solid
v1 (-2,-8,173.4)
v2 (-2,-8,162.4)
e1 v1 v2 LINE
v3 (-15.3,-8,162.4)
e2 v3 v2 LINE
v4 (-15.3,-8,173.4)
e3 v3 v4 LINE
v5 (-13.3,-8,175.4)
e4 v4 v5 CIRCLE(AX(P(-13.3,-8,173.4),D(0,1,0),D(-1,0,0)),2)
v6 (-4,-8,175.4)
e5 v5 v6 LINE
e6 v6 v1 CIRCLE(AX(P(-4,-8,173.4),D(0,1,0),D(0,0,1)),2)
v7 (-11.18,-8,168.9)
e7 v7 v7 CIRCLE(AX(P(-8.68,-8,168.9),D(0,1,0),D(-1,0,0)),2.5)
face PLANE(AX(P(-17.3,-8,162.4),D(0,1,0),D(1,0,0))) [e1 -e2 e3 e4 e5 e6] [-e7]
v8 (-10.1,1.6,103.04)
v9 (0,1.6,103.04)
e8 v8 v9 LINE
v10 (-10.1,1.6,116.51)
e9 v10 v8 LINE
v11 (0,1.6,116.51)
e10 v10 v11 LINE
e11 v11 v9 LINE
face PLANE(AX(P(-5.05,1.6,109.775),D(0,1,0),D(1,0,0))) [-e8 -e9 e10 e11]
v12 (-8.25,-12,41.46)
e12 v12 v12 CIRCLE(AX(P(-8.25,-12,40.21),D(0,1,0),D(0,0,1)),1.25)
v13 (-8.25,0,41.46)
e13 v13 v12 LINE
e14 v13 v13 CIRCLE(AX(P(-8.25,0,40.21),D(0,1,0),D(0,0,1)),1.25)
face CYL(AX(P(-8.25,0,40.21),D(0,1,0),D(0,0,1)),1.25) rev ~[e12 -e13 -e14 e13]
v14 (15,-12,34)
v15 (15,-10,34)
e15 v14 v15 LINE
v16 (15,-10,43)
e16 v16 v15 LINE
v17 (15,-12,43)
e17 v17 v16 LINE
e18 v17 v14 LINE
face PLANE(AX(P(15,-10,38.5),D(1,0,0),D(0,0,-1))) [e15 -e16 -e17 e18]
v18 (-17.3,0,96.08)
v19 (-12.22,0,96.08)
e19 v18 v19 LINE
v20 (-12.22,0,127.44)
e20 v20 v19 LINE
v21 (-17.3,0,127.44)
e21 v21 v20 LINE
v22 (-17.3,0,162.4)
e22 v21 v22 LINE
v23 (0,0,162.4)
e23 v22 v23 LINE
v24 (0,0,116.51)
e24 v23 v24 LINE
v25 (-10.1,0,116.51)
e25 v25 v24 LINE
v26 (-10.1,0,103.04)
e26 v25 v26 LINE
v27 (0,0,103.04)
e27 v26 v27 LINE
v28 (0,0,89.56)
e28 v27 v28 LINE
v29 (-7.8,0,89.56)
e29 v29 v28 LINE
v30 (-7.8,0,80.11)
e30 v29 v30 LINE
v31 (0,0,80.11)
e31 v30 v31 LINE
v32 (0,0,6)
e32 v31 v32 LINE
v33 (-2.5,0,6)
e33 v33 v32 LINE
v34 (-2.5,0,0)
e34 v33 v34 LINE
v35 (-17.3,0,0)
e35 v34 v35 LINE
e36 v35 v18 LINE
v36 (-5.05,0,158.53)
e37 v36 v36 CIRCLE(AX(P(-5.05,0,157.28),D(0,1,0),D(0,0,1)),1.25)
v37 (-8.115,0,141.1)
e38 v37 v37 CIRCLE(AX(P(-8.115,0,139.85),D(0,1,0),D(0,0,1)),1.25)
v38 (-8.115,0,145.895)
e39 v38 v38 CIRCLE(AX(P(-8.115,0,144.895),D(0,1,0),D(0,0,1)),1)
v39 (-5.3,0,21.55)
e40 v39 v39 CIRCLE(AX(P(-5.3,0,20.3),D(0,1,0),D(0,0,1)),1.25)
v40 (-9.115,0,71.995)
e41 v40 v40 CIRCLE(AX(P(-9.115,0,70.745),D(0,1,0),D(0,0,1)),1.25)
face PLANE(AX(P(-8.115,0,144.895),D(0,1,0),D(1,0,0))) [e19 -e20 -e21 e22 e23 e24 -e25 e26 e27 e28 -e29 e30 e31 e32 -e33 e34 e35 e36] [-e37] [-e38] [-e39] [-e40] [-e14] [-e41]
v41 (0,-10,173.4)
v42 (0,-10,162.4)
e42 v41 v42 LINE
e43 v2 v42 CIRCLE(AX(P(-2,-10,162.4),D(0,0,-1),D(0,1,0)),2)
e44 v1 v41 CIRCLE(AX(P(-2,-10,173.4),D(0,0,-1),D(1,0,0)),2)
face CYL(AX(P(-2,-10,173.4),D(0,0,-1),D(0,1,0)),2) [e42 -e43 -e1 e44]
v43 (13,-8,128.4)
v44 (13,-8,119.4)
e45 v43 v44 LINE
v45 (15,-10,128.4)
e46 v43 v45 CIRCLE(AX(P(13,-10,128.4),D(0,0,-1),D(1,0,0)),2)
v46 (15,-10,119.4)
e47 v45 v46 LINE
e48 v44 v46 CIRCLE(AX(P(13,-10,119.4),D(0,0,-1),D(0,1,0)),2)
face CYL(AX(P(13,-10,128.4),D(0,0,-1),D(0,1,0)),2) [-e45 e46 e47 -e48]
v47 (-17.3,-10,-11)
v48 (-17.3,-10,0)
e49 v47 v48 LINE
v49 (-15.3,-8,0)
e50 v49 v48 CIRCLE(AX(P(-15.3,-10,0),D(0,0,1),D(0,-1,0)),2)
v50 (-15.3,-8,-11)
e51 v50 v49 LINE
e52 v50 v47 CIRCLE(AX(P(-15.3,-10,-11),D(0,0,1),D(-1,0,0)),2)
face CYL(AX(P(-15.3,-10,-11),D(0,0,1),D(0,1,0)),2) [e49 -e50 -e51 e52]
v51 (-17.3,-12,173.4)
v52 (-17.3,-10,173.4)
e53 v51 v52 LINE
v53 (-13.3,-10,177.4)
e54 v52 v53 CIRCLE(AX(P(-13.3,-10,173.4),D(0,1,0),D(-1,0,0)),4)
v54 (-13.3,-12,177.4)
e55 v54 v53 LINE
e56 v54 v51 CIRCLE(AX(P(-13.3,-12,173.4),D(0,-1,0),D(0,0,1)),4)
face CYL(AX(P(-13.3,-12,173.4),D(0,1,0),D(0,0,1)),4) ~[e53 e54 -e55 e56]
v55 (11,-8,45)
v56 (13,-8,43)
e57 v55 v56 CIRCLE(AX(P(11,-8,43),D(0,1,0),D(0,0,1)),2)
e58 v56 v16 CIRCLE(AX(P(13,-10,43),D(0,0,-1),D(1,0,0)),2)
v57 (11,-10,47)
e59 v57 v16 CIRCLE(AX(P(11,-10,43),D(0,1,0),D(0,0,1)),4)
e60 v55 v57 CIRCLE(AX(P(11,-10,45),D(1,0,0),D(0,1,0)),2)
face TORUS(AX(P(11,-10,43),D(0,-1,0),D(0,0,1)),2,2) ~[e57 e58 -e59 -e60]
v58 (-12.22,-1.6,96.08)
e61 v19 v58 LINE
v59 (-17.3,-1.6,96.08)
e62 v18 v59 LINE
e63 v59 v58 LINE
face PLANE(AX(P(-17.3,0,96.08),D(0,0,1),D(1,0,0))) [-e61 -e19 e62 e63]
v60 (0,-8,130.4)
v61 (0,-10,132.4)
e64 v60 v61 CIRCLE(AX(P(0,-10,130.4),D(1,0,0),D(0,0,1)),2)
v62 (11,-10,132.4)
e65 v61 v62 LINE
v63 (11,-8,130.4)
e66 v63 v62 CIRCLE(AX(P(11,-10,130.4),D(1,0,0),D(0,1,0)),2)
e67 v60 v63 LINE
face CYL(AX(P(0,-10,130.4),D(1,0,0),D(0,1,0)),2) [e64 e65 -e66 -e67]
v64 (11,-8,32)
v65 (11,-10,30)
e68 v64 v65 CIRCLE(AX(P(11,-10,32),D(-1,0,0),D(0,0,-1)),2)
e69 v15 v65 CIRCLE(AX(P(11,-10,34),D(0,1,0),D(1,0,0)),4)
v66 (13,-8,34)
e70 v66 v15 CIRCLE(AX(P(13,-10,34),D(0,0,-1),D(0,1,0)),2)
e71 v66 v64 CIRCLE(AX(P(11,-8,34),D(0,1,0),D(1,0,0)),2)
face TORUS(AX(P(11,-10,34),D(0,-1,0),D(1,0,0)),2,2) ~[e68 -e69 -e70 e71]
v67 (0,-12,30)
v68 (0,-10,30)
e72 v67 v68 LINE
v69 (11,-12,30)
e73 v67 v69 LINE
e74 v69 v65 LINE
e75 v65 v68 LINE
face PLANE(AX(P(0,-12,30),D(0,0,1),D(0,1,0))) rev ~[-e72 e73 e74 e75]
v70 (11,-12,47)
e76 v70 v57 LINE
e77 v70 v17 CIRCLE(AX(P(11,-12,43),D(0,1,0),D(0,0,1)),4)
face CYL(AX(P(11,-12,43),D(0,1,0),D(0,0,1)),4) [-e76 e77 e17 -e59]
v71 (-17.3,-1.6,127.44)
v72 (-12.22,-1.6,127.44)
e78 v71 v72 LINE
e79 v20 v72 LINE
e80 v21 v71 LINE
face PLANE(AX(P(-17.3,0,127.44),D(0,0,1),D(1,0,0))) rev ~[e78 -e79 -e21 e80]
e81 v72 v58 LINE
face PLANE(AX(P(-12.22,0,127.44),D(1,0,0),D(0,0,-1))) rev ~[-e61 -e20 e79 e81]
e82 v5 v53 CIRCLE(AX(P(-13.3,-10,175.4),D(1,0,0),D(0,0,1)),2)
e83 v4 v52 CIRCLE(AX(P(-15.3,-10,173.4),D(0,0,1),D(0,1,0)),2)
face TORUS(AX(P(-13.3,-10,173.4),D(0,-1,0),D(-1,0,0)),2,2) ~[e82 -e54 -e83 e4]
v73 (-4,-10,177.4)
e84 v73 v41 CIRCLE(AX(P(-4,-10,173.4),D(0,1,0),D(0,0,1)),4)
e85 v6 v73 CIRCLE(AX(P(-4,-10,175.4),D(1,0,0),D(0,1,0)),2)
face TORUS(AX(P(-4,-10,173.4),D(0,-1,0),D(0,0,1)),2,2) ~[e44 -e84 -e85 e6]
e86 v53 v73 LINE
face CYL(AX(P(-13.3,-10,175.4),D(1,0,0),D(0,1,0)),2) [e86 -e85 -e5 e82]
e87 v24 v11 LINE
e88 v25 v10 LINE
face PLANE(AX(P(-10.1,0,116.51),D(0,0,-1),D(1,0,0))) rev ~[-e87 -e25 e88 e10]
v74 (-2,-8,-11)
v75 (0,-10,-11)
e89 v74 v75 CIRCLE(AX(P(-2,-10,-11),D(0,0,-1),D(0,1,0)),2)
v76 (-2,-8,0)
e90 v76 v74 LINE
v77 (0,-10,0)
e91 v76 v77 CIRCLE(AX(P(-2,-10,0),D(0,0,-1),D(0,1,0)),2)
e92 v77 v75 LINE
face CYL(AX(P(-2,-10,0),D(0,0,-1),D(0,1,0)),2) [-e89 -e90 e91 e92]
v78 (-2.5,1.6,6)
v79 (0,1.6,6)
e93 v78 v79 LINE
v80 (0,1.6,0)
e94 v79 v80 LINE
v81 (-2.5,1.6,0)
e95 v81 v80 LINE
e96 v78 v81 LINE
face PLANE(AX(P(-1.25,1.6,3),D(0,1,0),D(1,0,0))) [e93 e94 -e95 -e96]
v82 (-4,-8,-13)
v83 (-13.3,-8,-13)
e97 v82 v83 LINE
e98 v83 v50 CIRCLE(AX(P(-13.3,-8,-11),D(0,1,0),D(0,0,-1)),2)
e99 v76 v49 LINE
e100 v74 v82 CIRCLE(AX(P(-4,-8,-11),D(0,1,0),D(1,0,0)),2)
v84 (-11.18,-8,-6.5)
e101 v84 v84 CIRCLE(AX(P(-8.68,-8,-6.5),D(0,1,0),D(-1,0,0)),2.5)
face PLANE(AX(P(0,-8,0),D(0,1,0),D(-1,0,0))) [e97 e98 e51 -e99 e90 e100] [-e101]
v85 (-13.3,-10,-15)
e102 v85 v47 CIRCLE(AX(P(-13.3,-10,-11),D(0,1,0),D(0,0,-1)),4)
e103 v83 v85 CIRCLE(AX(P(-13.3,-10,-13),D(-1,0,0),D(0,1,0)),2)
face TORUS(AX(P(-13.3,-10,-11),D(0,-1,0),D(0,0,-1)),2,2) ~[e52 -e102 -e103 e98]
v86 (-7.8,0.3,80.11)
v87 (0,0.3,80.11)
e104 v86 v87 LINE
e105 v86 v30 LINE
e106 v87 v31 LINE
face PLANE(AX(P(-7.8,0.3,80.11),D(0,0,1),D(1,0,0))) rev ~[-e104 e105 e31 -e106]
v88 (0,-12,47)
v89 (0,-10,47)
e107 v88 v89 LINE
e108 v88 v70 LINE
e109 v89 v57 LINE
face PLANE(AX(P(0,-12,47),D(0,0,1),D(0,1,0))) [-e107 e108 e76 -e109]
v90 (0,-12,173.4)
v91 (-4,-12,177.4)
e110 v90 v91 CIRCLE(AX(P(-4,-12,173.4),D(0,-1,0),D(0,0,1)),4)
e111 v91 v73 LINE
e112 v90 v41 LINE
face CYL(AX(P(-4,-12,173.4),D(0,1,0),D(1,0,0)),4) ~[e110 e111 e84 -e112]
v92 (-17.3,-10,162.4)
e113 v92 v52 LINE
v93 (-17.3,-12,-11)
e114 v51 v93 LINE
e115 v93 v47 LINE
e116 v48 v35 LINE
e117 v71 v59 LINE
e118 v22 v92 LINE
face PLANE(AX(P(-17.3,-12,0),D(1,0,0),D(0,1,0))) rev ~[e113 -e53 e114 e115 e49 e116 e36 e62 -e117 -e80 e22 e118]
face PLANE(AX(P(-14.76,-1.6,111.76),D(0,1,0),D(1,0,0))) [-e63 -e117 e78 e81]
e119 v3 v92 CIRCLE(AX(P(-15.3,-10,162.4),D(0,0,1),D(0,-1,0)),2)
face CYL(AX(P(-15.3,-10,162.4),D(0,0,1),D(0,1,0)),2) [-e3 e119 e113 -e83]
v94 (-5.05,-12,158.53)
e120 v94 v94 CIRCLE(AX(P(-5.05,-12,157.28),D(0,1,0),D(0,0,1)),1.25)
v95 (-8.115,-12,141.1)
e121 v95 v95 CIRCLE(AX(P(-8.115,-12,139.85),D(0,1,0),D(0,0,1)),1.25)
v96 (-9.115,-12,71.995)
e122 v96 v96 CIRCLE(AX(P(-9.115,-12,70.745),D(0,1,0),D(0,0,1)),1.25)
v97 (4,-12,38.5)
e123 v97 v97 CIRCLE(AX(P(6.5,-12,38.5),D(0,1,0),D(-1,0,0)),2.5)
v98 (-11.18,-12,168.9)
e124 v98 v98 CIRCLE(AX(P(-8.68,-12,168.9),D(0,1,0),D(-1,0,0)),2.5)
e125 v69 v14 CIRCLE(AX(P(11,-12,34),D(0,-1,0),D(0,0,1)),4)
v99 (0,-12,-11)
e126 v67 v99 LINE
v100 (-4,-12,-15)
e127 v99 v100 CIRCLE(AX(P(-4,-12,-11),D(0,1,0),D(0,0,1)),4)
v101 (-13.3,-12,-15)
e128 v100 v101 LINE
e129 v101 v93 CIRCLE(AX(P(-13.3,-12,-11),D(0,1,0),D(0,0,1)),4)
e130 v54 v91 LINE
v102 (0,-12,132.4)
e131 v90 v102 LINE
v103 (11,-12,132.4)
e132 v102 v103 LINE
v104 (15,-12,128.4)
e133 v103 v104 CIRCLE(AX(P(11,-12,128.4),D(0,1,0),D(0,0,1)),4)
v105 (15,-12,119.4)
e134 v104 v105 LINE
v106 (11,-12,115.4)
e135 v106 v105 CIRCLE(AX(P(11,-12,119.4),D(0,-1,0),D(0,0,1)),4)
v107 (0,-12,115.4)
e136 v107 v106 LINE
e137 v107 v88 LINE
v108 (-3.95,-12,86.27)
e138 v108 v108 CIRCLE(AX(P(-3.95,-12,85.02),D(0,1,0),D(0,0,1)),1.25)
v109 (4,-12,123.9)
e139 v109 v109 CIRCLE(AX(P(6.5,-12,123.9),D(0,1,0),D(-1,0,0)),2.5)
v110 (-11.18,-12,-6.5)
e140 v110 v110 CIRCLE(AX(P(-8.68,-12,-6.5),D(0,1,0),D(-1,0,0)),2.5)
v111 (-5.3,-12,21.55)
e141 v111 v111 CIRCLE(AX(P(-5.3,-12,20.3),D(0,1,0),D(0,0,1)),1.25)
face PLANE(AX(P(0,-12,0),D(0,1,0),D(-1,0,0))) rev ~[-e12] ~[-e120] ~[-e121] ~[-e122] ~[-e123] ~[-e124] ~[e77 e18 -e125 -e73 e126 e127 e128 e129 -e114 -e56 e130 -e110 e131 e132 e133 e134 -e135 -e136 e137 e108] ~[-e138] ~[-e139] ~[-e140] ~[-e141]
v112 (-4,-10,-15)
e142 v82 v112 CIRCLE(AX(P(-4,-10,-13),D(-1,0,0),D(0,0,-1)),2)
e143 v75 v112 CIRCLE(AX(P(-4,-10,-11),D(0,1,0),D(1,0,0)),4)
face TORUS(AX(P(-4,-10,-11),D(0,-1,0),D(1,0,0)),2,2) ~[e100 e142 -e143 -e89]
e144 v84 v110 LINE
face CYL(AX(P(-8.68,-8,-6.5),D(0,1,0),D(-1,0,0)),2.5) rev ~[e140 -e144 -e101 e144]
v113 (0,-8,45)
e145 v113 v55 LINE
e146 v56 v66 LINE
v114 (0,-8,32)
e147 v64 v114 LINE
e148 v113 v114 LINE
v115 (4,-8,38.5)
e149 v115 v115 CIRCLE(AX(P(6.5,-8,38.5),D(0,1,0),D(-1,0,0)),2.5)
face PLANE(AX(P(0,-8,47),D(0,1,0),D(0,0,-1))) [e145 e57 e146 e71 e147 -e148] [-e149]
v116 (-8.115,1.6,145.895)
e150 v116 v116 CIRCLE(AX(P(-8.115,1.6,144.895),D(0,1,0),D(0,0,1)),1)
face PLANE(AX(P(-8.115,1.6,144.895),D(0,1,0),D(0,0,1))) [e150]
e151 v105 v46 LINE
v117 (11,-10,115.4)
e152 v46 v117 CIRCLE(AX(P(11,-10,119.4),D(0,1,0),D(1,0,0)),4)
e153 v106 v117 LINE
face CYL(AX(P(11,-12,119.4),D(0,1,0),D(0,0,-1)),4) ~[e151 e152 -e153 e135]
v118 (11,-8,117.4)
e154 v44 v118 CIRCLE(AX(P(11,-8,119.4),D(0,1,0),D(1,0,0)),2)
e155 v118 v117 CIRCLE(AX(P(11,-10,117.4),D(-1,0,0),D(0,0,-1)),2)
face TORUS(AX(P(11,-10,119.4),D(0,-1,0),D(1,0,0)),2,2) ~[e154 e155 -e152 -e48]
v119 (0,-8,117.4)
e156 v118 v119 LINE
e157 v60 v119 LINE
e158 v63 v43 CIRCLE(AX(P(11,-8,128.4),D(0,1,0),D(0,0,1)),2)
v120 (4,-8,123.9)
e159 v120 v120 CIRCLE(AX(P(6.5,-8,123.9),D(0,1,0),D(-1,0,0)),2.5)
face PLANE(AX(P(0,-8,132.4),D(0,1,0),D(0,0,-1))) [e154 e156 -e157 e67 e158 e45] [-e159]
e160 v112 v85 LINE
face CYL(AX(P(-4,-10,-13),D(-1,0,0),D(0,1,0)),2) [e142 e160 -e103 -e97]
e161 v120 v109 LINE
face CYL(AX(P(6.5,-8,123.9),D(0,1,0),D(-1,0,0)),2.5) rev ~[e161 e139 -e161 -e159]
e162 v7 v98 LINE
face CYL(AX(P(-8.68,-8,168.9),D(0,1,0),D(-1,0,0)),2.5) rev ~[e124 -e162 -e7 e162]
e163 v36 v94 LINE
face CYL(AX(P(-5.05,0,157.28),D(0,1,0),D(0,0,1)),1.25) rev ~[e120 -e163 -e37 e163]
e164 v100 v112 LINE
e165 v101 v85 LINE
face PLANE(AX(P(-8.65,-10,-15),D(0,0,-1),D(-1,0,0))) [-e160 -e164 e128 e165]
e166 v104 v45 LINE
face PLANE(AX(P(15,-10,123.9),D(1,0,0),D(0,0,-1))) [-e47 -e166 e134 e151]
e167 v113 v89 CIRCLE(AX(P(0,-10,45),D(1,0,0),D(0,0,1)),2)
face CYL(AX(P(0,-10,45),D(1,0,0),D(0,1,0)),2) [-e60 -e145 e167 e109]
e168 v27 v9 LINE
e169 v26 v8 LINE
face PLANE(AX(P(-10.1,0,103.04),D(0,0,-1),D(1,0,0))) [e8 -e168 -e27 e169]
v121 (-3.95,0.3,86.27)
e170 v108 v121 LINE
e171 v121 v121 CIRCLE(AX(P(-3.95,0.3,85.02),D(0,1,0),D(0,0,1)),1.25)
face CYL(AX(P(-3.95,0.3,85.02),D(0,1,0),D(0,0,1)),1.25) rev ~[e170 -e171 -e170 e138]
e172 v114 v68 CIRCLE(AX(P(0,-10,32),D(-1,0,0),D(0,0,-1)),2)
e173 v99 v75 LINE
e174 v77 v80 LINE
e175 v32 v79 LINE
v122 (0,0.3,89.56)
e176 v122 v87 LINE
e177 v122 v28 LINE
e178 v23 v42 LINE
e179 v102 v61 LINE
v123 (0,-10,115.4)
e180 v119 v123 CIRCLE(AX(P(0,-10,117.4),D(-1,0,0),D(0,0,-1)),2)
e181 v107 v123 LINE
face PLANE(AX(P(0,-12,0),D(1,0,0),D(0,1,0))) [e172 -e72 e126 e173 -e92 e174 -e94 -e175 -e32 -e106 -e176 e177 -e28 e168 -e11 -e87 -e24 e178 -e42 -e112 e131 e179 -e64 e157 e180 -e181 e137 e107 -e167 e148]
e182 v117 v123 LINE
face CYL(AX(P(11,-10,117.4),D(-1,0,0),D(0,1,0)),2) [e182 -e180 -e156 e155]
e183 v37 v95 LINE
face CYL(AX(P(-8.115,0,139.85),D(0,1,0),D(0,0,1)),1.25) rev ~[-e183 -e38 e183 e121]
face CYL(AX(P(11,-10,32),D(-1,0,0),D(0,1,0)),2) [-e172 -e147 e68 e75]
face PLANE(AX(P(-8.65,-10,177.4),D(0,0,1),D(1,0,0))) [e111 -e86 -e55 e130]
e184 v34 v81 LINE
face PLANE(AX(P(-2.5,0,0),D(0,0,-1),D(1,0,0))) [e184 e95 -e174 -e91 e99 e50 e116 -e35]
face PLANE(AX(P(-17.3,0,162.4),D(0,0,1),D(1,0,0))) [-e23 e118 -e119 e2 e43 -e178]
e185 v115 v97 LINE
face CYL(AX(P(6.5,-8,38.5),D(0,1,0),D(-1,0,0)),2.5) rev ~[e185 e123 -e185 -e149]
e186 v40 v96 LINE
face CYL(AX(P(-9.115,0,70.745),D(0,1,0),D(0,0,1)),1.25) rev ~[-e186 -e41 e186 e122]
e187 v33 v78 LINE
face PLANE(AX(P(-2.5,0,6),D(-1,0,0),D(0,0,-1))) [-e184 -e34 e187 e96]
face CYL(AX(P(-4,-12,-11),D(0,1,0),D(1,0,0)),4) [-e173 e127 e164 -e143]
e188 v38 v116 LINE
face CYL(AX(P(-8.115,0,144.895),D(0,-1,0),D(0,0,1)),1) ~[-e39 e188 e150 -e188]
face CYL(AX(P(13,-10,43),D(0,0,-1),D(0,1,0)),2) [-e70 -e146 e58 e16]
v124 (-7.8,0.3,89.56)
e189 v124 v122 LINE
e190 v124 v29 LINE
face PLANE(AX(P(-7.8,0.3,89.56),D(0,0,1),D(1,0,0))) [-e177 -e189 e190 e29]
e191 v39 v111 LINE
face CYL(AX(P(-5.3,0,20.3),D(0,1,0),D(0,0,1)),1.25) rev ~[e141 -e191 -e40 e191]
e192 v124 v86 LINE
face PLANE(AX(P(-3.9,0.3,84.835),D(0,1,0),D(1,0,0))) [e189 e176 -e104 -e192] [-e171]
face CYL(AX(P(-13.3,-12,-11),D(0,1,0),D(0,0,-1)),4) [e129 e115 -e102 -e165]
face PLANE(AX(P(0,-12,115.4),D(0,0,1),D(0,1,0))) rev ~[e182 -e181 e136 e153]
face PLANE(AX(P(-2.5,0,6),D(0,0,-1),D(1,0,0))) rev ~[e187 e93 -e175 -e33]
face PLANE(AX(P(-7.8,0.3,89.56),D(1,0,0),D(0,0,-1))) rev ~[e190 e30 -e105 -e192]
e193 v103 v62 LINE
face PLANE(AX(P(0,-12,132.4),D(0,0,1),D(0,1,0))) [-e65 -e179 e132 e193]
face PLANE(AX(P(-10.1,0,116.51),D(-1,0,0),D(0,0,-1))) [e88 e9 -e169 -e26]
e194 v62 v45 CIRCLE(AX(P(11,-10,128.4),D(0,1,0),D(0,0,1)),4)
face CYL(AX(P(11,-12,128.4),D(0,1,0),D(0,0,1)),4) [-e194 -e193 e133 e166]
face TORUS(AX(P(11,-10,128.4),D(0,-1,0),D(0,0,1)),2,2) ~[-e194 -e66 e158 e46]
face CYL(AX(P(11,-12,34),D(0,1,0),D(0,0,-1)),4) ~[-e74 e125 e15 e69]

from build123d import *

# Parameters (mm, degrees)
SKETCH1_R           = 1
SKETCH1_R_2         = 1.25
SKETCH1_W           = 10.1
SKETCH1_H           = 13.47
SKETCH1_W_2         = 2.5
SKETCH1_H_2         = 6
SKETCH1_W_3         = 5.08
SKETCH1_H_3         = 31.36
BOSS_EXTRUDE1_DEPTH = 12
SKETCH1_3_W         = 10.1
SKETCH1_3_H         = 13.47
SKETCH1_3_W_2       = 2.5
SKETCH1_3_H_2       = 6
SKETCH1_3_R         = 1
BOSS_EXTRUDE2_DEPTH = 1.6
SKETCH1_4_W         = 5.08
SKETCH1_4_H         = 31.36
CUT_EXTRUDE1_DEPTH  = 1.6
BOSS_EXTRUDE3_START = 0.3
SKETCH2_W           = 7.8
SKETCH2_H           = 9.45
SKETCH2_R           = 1.25
BOSS_EXTRUDE3_DEPTH = 0.3
SKETCH3_W           = 17.3
SKETCH3_H           = 4
BOSS_EXTRUDE4_DEPTH = 15
SKETCH4_W           = 17.3
SKETCH4_H           = 4
BOSS_EXTRUDE5_DEPTH = 15
SKETCH5_W           = 17
SKETCH5_H           = 4
BOSS_EXTRUDE6_DEPTH = 15
FILLET1_R           = 4
FILLET2_R           = 2
CUT_EXTRUDE2_REACH  = 180.5
SKETCH6_R           = 2.5


with BuildPart() as part:
    # Sketch1 → Boss-Extrude1 (new body)
    # profile 1 of 5: a face of its own
    with BuildSketch(Plane(origin=(0, 0, 0), x_dir=(1, 0, 0), z_dir=(0, 1, 0))):
        Polygon((-2.5, -6), (-2.5, 0), (-17.3, 0), (-17.3, -96.08), (-12.22, -96.08), (-12.22, -127.44), (-17.3, -127.44), (-17.3, -162.4), (0, -162.4), (0, -116.51), (-10.1, -116.51), (-10.1, -103.04), (0, -103.04), (0, -6), align=None)
        with Locations((-8.115, -144.895)):
            Circle(SKETCH1_R, mode=Mode.SUBTRACT)
        with Locations(Location((-5.05, -157.28, 0), (0, 0, 270))):
            Circle(SKETCH1_R_2, mode=Mode.SUBTRACT)
        with Locations(Location((-8.115, -139.85, 0), (0, 0, 270))):
            Circle(SKETCH1_R_2, mode=Mode.SUBTRACT)
        with Locations(Location((-3.95, -85.02, 0), (0, 0, 270))):
            Circle(SKETCH1_R_2, mode=Mode.SUBTRACT)
        with Locations(Location((-9.115, -70.745, 0), (0, 0, 270))):
            Circle(SKETCH1_R_2, mode=Mode.SUBTRACT)
        with Locations(Location((-8.25, -40.21, 0), (0, 0, 270))):
            Circle(SKETCH1_R_2, mode=Mode.SUBTRACT)
        with Locations(Location((-5.3, -20.3, 0), (0, 0, 270))):
            Circle(SKETCH1_R_2, mode=Mode.SUBTRACT)
    # profile 2 of 5: a face of its own
    with BuildSketch(Plane(origin=(0, 0, 0), x_dir=(1, 0, 0), z_dir=(0, 1, 0))):
        with Locations((-5.05, -109.775)):
            Rectangle(SKETCH1_W, SKETCH1_H)
    # profile 3 of 5: a face of its own
    with BuildSketch(Plane(origin=(0, 0, 0), x_dir=(1, 0, 0), z_dir=(0, 1, 0))):
        with Locations((-1.25, -3)):
            Rectangle(SKETCH1_W_2, SKETCH1_H_2)
    # profile 4 of 5: a face of its own
    with BuildSketch(Plane(origin=(0, 0, 0), x_dir=(1, 0, 0), z_dir=(0, 1, 0))):
        with Locations((-14.76, -111.76)):
            Rectangle(SKETCH1_W_3, SKETCH1_H_3)
    # profile 5 of 5: a face of its own
    with BuildSketch(Plane(origin=(0, 0, 0), x_dir=(1, 0, 0), z_dir=(0, 1, 0))):
        with Locations((-8.115, -144.895)):
            Circle(SKETCH1_R)
    extrude(amount=-BOSS_EXTRUDE1_DEPTH)

    # Sketch1<3> → Boss-Extrude2 (add)
    with BuildSketch(Plane(origin=(0, 0, 0), x_dir=(1, 0, 0), z_dir=(0, 1, 0))):
        with Locations((-5.05, -109.775)):
            Rectangle(SKETCH1_3_W, SKETCH1_3_H)
        with Locations((-1.25, -3)):
            Rectangle(SKETCH1_3_W_2, SKETCH1_3_H_2)
        with Locations(Location((-8.115, -144.895, 0), (0, 0, 270))):
            Circle(SKETCH1_3_R)
    extrude(amount=BOSS_EXTRUDE2_DEPTH)

    # Sketch1<4> → Cut-Extrude1 (cut)
    with BuildSketch(Plane(origin=(0, 0, 0), x_dir=(1, 0, 0), z_dir=(0, 1, 0))):
        with Locations((-14.76, -111.76)):
            Rectangle(SKETCH1_4_W, SKETCH1_4_H)
    extrude(amount=-CUT_EXTRUDE1_DEPTH, mode=Mode.SUBTRACT)

    # Sketch2 → Boss-Extrude3 (add)
    with BuildSketch(Plane(origin=(0, 0, 0), x_dir=(1, 0, 0), z_dir=(0, 1, 0)).offset(BOSS_EXTRUDE3_START)):
        with Locations((-3.9, -84.835)):
            Rectangle(SKETCH2_W, SKETCH2_H)
        with Locations(Location((-3.95, -85.02, 0), (0, 0, 270))):
            Circle(SKETCH2_R, mode=Mode.SUBTRACT)
    extrude(amount=-BOSS_EXTRUDE3_DEPTH)

    # Sketch3 → Boss-Extrude4 (add)
    with BuildSketch(Plane.XY.offset(162.4)):
        with Locations((-8.65, -10)):
            Rectangle(SKETCH3_W, SKETCH3_H)
    extrude(amount=BOSS_EXTRUDE4_DEPTH)

    # Sketch4 → Boss-Extrude5 (add)
    with BuildSketch(Plane(origin=(0, 0, 0), x_dir=(-1, 0, 0), z_dir=(0, 0, -1))):
        with Locations((8.65, -10)):
            Rectangle(SKETCH4_W, SKETCH4_H)
    extrude(amount=BOSS_EXTRUDE5_DEPTH)

    # Sketch5 → Boss-Extrude6 (add)
    with BuildSketch(Plane(origin=(0, 0, 0), x_dir=(0, 0, -1), z_dir=(1, 0, 0))):
        with Locations((-123.9, -10)):
            Rectangle(SKETCH5_W, SKETCH5_H)
        with Locations((-38.5, -10)):
            Rectangle(SKETCH5_W, SKETCH5_H)
    extrude(amount=BOSS_EXTRUDE6_DEPTH)

    # Fillet1
    fillet1_edges = [part.edges().sort_by_distance(p)[0] for p in [
        (-17.3, -10, -15),
        (0, -10, -15),
        (15, -10, 132.4),
        (15, -10, 115.4),
        (15, -10, 47),
        (15, -10, 30),
        (0, -10, 177.4),
        (-17.3, -10, 177.4),
    ]]
    fillet(fillet1_edges, radius=FILLET1_R)

    # Fillet2
    fillet2_edges = [part.edges().sort_by_distance(p)[0] for p in [
        (-8.65, -8, -15),
        (-17.3, -8, -5.5),
        (-1.171572875, -8, -13.828427125),
        (-16.128427125, -8, -13.828427125),
        (-17.3, -8, 167.9),
        (15, -8, 38.5),
        (5.5, -8, 47),
        (5.5, -8, 30),
        (13.828427125, -8, 45.828427125),
        (13.828427125, -8, 31.171572875),
        (15, -8, 123.9),
        (5.5, -8, 132.4),
        (5.5, -8, 115.4),
        (13.828427125, -8, 131.228427125),
        (13.828427125, -8, 116.571572875),
        (-8.65, -8, 177.4),
        (-1.171572875, -8, 176.228427125),
        (-16.128427125, -8, 176.228427125),
    ]]
    fillet(fillet2_edges, radius=FILLET2_R)

    # Sketch6 → Cut-Extrude2 (cut, up to next)
    with BuildSketch(Plane(origin=(0, -8, 0), x_dir=(1, 0, 0), z_dir=(0, 1, 0)), mode=Mode.PRIVATE) as cut_extrude2_sk1:
        with Locations(Location((-8.68, 6.5, 0), (0, 0, 180))):
            Circle(SKETCH6_R)
    cut_extrude2_tool1 = extrude(cut_extrude2_sk1.sketch, amount=-CUT_EXTRUDE2_REACH, mode=Mode.PRIVATE) & part.part
    # Sketch6 → Cut-Extrude2 (cut, up to next)
    with BuildSketch(Plane(origin=(0, -8, 0), x_dir=(1, 0, 0), z_dir=(0, 1, 0)), mode=Mode.PRIVATE) as cut_extrude2_sk2:
        with Locations(Location((6.5, -38.5, 0), (0, 0, 180))):
            Circle(SKETCH6_R)
    cut_extrude2_tool2 = extrude(cut_extrude2_sk2.sketch, amount=-CUT_EXTRUDE2_REACH, mode=Mode.PRIVATE) & part.part
    # Sketch6 → Cut-Extrude2 (cut, up to next)
    with BuildSketch(Plane(origin=(0, -8, 0), x_dir=(1, 0, 0), z_dir=(0, 1, 0)), mode=Mode.PRIVATE) as cut_extrude2_sk3:
        with Locations(Location((6.5, -123.9, 0), (0, 0, 180))):
            Circle(SKETCH6_R)
    cut_extrude2_tool3 = extrude(cut_extrude2_sk3.sketch, amount=-CUT_EXTRUDE2_REACH, mode=Mode.PRIVATE) & part.part
    # Sketch6 → Cut-Extrude2 (cut, up to next)
    with BuildSketch(Plane(origin=(0, -8, 0), x_dir=(1, 0, 0), z_dir=(0, 1, 0)), mode=Mode.PRIVATE) as cut_extrude2_sk4:
        with Locations(Location((-8.68, -168.9, 0), (0, 0, 180))):
            Circle(SKETCH6_R)
    cut_extrude2_tool4 = extrude(cut_extrude2_sk4.sketch, amount=-CUT_EXTRUDE2_REACH, mode=Mode.PRIVATE) & part.part
    add(cut_extrude2_tool1.solids().sort_by_distance((-8.68, -8, -6.5))[0], mode=Mode.SUBTRACT)
    add(cut_extrude2_tool2.solids().sort_by_distance((6.5, -8, 38.5))[0], mode=Mode.SUBTRACT)
    add(cut_extrude2_tool3.solids().sort_by_distance((6.5, -8, 123.9))[0], mode=Mode.SUBTRACT)
    add(cut_extrude2_tool4.solids().sort_by_distance((-8.68, -8, 168.9))[0], mode=Mode.SUBTRACT)


solid = part.part
